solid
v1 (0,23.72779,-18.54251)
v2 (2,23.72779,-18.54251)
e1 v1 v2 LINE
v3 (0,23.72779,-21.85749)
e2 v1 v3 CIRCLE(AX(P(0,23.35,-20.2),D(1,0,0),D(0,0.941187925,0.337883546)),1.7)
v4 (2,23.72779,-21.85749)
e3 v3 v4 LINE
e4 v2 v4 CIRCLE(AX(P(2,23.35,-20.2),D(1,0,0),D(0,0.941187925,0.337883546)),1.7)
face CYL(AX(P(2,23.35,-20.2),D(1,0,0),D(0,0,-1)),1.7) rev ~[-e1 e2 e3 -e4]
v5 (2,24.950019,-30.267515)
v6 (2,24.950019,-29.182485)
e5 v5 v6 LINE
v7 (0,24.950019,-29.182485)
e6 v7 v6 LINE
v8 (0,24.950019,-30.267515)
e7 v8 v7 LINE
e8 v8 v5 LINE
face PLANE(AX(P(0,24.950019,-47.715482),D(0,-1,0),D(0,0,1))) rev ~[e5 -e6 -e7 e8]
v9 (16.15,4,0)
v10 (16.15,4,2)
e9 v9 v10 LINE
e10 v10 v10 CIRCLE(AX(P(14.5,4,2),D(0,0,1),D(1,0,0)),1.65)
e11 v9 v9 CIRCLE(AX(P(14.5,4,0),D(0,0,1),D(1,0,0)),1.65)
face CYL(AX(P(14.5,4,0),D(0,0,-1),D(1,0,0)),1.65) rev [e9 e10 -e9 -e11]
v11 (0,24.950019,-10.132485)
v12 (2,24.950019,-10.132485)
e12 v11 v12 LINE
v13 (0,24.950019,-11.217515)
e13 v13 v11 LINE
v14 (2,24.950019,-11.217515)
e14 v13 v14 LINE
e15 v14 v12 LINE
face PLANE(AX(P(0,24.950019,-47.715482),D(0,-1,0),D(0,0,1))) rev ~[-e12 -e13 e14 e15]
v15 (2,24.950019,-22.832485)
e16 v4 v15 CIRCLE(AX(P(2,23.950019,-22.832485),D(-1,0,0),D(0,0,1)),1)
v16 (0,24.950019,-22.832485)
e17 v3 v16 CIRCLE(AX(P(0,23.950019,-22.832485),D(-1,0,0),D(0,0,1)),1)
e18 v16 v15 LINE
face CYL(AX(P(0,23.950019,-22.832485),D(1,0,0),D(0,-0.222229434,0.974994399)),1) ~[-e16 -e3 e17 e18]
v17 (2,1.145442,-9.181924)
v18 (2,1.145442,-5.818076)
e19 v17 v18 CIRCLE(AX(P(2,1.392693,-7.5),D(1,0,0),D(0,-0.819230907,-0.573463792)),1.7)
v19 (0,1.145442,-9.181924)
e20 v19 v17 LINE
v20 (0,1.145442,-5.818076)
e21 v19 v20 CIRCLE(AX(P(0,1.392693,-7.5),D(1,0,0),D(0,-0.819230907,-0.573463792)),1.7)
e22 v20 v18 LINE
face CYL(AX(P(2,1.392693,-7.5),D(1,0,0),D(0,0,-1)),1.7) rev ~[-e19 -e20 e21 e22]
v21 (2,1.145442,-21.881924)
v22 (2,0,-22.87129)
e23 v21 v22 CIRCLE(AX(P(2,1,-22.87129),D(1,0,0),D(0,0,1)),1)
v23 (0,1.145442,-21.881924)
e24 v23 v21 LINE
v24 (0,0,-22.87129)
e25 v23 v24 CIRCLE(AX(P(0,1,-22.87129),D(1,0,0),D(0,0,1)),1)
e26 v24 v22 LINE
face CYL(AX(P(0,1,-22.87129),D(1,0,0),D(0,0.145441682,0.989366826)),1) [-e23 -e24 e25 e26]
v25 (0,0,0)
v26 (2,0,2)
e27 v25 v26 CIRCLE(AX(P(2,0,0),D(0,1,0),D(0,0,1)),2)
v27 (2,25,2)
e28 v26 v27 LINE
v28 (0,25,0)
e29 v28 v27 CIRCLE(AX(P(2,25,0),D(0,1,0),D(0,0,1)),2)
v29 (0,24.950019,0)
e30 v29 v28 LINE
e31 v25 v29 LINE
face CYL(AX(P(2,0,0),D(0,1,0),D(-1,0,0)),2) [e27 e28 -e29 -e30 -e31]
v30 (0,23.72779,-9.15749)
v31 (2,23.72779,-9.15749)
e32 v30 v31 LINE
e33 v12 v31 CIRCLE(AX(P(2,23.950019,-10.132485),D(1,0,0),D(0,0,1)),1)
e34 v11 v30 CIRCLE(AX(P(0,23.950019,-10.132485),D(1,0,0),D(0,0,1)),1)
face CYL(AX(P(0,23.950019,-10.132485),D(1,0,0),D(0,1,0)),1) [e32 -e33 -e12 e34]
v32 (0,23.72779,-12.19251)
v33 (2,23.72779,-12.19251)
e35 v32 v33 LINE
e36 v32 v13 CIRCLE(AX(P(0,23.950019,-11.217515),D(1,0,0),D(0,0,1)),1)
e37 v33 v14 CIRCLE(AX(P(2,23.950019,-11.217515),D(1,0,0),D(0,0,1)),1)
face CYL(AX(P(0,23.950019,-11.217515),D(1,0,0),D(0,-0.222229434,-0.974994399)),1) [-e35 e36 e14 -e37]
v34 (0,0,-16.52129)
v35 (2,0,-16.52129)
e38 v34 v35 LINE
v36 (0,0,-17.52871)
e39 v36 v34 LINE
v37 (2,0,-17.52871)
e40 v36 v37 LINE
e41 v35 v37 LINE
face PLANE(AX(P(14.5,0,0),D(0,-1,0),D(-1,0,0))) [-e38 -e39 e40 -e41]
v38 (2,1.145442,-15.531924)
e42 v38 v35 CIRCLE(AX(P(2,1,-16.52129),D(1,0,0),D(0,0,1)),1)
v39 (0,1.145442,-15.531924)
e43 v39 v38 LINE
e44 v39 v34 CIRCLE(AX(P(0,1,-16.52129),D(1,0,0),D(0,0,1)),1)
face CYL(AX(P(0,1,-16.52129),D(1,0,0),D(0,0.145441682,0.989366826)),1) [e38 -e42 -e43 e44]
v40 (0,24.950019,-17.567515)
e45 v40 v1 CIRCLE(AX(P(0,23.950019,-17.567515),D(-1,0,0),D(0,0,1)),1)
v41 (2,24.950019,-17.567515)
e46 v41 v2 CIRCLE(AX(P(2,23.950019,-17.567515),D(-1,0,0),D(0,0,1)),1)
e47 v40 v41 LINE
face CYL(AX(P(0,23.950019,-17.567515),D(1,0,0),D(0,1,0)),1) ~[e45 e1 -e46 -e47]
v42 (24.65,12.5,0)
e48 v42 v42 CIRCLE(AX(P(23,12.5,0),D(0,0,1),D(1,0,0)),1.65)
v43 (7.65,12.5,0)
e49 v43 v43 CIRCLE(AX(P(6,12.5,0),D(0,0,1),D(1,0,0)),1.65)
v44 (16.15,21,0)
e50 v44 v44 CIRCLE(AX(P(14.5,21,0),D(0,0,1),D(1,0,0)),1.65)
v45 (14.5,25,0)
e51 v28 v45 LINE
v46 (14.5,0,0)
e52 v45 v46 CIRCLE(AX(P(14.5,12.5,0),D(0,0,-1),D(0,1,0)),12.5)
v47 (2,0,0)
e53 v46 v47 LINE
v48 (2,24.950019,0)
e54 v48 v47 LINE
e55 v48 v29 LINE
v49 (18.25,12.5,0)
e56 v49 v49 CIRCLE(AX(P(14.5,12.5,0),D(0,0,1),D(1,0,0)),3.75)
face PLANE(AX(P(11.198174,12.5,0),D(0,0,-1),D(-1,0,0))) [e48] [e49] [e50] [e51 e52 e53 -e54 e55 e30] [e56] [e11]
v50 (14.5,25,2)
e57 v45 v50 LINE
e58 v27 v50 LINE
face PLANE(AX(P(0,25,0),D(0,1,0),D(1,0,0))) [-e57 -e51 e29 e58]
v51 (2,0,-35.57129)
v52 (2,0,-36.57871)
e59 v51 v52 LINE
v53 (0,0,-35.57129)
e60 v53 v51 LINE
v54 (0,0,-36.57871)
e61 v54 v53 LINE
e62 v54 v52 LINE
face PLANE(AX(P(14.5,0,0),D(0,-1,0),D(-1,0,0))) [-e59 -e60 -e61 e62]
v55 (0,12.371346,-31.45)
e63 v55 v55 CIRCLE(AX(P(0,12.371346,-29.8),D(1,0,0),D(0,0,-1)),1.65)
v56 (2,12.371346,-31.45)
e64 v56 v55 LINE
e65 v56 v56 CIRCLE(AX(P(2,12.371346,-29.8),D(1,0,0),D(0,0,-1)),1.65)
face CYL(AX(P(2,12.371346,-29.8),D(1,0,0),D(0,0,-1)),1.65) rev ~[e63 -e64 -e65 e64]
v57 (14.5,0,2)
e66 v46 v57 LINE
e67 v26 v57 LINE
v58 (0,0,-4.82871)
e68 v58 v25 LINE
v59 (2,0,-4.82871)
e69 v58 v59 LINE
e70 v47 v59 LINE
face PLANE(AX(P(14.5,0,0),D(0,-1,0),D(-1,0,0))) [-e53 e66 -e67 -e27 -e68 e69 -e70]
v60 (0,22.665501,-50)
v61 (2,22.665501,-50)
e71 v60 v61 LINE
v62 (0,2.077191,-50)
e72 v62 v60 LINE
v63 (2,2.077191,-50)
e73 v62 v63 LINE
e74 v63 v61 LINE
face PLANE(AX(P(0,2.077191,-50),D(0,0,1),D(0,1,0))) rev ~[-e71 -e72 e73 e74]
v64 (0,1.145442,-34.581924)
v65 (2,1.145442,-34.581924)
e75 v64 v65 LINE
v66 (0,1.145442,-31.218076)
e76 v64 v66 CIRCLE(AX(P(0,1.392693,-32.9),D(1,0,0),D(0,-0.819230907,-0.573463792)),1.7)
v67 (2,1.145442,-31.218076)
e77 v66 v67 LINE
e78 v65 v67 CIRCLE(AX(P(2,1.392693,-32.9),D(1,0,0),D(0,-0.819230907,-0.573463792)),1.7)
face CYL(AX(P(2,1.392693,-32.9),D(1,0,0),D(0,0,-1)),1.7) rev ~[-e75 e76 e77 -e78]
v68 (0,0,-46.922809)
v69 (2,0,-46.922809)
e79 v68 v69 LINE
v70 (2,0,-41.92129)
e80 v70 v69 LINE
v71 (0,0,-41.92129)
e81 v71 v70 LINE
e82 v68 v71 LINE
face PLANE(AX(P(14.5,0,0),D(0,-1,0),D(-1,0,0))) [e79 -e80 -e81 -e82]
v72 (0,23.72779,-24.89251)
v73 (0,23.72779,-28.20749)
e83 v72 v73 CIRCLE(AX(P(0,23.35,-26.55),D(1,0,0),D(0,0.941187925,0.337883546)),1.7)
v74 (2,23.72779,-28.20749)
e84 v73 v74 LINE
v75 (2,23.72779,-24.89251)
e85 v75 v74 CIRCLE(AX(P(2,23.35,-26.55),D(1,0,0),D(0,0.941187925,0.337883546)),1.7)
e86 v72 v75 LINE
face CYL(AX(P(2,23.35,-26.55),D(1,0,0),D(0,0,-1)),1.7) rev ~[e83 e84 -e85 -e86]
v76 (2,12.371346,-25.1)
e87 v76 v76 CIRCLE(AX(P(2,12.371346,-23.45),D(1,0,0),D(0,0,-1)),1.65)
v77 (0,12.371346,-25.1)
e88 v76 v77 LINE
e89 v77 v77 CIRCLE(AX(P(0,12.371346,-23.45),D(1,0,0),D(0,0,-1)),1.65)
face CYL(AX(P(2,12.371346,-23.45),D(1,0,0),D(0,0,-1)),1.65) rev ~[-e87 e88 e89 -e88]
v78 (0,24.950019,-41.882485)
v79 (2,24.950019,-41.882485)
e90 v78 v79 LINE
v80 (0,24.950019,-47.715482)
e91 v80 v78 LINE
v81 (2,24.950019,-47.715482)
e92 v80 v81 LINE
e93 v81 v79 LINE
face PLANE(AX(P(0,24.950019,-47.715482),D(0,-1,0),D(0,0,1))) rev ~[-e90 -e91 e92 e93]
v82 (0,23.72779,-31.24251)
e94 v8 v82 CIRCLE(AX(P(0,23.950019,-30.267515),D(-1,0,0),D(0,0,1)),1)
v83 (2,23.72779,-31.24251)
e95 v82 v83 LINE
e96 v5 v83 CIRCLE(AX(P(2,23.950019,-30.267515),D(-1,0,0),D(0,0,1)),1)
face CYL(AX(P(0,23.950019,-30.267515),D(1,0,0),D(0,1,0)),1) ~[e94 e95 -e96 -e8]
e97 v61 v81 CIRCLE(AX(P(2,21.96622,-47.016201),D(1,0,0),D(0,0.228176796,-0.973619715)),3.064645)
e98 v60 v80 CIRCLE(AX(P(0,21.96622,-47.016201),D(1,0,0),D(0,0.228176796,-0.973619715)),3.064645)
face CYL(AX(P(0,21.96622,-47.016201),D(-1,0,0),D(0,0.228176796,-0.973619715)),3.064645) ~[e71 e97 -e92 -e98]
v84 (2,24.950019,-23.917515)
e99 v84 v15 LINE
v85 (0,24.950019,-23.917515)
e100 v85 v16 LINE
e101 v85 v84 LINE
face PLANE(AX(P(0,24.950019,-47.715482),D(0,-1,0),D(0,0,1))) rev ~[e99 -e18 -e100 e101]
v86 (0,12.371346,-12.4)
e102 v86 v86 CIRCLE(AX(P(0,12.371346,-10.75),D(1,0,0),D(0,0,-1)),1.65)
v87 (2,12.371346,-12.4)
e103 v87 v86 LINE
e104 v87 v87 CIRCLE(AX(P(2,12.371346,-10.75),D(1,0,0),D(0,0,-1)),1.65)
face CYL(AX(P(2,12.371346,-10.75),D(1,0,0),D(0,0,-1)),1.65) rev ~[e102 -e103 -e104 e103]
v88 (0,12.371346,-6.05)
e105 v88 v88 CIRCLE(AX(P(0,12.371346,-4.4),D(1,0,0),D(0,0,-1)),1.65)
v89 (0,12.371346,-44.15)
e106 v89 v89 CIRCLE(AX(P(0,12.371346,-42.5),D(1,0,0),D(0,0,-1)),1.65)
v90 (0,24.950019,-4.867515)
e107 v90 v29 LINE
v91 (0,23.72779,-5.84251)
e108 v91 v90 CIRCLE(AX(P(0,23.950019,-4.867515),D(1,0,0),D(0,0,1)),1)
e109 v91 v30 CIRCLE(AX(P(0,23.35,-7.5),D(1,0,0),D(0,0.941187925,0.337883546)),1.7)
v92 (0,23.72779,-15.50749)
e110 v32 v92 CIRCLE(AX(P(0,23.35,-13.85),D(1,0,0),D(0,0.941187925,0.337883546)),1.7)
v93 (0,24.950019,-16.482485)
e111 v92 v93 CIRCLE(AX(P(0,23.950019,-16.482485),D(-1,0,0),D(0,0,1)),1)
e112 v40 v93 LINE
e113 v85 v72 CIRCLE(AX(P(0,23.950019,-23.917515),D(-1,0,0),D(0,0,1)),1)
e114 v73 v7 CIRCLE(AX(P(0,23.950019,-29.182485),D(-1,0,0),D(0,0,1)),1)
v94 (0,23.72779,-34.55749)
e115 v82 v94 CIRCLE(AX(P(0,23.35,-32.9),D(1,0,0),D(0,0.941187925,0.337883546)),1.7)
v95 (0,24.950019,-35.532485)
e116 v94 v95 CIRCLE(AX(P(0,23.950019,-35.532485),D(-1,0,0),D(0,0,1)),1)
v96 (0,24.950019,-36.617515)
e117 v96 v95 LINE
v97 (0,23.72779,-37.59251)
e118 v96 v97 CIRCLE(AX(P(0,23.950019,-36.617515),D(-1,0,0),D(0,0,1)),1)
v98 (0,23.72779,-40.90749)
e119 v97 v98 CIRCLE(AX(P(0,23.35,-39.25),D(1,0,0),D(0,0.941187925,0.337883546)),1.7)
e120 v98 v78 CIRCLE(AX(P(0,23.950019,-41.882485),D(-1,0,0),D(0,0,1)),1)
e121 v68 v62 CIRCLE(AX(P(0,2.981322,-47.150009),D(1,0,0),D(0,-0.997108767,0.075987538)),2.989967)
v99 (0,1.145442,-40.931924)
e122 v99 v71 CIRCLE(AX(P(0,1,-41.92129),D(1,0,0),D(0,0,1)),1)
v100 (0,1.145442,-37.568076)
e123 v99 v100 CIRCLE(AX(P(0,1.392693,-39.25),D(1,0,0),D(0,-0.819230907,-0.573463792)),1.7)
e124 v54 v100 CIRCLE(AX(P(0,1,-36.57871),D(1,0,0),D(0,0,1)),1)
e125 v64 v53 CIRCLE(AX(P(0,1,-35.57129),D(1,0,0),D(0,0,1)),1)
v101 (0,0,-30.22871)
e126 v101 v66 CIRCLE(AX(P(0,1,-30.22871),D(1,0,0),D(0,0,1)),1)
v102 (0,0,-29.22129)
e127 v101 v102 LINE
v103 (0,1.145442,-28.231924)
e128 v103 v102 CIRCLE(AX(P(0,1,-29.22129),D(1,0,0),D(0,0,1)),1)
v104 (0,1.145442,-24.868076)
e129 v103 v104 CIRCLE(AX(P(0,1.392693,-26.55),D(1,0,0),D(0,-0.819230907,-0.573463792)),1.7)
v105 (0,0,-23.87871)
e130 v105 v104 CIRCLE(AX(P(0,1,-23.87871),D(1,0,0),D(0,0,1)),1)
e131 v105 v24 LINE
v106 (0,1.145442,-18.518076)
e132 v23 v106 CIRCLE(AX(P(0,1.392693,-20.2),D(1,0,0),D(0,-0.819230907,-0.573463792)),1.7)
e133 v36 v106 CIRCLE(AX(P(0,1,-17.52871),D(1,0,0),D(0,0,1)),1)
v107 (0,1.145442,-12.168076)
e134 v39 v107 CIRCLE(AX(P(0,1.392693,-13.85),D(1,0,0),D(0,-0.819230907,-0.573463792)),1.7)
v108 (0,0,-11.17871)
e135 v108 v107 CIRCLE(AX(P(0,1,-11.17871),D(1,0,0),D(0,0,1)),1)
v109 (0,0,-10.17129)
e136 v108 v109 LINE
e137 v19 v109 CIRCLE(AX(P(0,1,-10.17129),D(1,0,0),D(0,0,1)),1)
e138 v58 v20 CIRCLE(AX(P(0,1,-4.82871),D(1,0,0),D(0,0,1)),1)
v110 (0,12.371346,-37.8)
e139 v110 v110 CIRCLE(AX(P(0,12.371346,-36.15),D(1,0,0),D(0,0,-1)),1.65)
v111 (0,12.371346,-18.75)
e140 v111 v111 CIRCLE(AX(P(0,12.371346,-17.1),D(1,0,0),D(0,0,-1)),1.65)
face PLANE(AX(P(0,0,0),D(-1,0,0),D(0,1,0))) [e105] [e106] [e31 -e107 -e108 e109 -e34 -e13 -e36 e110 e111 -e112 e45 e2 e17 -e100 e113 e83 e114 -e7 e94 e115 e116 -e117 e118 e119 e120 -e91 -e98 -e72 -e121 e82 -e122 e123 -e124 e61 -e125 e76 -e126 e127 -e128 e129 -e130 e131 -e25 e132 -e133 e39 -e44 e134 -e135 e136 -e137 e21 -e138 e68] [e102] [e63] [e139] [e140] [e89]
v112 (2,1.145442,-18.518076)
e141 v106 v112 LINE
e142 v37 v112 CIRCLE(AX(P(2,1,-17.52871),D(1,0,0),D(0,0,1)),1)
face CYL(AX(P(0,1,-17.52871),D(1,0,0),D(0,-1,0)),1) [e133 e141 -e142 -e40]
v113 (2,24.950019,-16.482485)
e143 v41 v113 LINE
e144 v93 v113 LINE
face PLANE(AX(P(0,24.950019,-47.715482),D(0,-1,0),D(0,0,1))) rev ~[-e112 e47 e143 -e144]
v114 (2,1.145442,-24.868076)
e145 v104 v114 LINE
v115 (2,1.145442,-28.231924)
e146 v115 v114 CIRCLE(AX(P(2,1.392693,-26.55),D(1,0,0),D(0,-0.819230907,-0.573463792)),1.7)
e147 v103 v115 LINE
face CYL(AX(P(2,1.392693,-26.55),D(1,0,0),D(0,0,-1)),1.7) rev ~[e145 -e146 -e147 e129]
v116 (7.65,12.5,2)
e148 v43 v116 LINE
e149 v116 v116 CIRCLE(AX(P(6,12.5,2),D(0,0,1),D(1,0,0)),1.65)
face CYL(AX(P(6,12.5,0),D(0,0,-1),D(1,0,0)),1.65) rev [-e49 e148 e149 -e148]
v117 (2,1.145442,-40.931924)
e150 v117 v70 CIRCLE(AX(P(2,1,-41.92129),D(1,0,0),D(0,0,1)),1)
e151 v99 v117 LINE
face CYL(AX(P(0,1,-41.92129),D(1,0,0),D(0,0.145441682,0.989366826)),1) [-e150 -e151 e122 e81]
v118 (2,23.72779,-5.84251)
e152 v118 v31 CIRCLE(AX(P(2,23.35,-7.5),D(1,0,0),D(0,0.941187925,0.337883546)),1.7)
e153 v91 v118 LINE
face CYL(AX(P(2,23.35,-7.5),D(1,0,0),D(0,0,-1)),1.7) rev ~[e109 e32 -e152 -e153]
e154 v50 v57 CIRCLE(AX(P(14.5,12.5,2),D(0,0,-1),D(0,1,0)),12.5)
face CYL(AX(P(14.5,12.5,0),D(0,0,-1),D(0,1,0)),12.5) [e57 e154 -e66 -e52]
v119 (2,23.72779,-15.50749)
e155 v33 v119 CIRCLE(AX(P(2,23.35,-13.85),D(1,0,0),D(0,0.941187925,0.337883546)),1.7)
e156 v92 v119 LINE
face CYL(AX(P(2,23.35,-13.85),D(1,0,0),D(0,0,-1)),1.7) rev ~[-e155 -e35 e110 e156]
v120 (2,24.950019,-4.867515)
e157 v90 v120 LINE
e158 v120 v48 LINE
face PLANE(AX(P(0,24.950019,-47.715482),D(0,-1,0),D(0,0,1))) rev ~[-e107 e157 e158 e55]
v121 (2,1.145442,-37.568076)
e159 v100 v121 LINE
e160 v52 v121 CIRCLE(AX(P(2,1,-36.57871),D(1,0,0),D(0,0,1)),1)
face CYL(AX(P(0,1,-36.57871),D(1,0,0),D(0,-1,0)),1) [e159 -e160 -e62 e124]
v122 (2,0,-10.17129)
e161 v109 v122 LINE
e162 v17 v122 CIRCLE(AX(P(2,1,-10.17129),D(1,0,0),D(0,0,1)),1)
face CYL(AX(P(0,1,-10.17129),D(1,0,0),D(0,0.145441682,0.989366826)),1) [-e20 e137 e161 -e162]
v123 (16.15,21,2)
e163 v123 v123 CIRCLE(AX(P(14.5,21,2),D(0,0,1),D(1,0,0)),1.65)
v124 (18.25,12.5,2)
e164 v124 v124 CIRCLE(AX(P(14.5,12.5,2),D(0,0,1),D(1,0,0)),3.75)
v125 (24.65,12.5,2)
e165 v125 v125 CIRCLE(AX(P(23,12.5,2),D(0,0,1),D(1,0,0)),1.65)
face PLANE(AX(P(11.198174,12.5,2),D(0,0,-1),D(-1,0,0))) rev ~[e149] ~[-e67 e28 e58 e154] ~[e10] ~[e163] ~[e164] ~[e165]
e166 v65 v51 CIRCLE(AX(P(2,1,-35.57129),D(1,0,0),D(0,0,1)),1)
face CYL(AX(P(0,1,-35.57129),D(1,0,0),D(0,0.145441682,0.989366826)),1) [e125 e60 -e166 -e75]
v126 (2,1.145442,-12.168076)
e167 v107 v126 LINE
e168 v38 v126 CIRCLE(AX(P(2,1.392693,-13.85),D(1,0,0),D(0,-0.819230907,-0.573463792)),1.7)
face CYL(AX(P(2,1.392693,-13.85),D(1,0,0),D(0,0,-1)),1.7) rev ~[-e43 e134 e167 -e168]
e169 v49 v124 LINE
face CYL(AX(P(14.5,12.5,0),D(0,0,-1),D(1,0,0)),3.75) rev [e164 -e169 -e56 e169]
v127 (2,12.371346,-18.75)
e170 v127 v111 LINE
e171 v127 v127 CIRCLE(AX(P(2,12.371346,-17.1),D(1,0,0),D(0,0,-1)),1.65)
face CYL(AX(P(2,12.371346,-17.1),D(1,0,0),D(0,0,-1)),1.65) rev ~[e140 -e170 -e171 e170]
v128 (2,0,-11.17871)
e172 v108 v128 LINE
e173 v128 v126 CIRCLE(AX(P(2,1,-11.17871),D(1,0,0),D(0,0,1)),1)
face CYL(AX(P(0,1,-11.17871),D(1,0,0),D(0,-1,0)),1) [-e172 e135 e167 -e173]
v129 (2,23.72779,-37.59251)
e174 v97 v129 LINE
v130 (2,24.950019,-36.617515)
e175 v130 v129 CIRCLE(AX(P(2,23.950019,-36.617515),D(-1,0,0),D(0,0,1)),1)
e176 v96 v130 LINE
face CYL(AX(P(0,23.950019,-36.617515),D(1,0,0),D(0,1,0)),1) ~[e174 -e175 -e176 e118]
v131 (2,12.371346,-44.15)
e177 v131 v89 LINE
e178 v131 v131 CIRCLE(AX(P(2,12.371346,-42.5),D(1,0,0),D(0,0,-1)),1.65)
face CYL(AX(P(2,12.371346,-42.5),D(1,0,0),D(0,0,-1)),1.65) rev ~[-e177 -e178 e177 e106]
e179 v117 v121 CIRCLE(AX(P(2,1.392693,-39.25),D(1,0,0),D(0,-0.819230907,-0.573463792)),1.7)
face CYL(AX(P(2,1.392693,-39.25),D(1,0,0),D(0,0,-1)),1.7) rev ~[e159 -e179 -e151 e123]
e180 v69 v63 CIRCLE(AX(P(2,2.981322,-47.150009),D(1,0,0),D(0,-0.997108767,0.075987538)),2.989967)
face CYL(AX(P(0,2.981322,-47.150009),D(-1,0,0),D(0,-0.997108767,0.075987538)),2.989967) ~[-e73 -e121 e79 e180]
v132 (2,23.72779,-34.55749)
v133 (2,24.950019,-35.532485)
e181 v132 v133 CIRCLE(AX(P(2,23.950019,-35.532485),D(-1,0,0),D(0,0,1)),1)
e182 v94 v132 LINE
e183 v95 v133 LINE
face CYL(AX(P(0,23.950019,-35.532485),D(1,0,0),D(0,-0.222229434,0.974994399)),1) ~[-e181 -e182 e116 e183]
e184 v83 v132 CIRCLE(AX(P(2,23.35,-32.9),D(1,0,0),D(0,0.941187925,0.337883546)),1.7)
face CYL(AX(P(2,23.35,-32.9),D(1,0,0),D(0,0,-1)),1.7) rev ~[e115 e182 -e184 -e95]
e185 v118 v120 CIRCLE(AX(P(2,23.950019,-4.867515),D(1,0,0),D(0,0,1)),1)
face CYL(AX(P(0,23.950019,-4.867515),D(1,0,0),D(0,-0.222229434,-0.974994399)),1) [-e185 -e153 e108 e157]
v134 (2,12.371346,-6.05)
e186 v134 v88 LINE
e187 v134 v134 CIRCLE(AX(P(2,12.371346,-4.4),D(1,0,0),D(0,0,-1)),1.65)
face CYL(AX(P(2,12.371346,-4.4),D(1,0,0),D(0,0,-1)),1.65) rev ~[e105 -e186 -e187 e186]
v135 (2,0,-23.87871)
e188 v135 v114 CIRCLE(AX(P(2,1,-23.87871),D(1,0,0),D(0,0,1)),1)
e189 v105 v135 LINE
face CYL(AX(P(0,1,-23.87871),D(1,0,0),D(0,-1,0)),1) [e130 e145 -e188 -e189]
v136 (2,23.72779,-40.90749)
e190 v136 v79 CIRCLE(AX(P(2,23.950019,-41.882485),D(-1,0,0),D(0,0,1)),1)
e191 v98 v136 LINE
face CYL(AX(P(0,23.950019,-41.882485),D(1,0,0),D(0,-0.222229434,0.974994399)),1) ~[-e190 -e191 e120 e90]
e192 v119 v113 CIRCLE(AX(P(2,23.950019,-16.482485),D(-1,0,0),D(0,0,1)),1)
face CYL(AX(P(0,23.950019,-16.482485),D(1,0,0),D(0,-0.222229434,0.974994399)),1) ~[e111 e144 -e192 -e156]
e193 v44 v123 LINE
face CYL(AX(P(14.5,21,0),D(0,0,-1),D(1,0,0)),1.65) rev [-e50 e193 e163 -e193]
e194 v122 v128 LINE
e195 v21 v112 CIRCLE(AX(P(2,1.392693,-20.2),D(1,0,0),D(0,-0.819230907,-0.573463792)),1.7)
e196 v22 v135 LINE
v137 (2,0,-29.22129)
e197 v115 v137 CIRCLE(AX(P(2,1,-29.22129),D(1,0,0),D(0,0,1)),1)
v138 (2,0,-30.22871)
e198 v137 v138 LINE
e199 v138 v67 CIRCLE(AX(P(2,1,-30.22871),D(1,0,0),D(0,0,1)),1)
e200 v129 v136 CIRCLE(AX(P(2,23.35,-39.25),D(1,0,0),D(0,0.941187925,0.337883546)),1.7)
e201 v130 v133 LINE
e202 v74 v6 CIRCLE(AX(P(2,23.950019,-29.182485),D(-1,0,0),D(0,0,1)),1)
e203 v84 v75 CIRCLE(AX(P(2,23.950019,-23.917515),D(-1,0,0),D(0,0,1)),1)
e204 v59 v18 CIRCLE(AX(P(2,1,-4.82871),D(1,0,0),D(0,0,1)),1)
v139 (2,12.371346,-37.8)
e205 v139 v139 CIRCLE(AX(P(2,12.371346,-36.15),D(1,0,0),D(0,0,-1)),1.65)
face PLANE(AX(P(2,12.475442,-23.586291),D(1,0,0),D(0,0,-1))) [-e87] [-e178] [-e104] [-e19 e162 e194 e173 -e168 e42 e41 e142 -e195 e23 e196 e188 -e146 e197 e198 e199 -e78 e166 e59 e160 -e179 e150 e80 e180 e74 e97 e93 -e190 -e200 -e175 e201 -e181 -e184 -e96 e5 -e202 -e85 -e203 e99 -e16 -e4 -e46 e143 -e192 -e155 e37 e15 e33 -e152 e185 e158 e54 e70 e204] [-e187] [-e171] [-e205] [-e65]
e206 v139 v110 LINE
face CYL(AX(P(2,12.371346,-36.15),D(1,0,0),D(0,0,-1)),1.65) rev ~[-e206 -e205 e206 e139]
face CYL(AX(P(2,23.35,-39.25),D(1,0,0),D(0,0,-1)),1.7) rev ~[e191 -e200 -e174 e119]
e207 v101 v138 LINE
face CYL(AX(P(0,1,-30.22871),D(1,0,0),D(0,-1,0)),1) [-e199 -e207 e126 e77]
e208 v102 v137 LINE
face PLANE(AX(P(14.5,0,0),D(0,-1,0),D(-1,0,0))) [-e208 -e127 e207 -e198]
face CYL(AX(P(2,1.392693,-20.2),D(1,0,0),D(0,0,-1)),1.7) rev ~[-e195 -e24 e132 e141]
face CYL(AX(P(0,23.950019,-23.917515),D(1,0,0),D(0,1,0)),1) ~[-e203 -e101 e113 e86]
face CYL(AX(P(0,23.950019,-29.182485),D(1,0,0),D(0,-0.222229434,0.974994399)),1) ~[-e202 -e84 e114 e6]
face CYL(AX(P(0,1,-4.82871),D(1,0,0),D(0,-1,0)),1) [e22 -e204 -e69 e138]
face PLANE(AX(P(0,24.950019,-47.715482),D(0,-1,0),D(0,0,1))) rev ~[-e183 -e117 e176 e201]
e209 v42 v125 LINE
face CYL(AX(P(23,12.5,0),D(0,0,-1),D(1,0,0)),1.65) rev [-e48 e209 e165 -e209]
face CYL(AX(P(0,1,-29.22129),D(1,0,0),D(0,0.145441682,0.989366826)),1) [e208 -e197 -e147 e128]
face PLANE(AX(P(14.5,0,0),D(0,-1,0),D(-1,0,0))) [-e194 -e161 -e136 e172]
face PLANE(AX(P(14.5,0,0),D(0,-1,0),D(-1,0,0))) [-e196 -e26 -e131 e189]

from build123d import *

# Parameters (mm, degrees)
CROQUIS1_R              = 3.75
CROQUIS1_R_2            = 1.65
SALIENTE_EXTRUIR1_DEPTH = 2
SALIENTE_EXTRUIR2_DEPTH = 2
CROQUIS5_R              = 1.65
CROQUIS5_R_2            = 1.7
CORTAR_EXTRUIR2_DEPTH   = 10
REDONDEO3_R             = 1
REDONDEO4_R             = 1
REDONDEO5_R             = 1
REDONDEO6_R             = 1
REDONDEO7_R             = 1
REDONDEO8_R             = 1
REDONDEO12_R            = 2


with BuildPart() as part:
    # Croquis1 → Saliente-Extruir1 (new body)
    with BuildSketch(Plane.XY):
        with BuildLine():
            Line((0, 0), (0, 25))
            Line((0, 25), (14.5, 25))
            ThreePointArc((14.5, 25), (27, 12.5), (14.5, 0))
            Line((14.5, 0), (0, 0))
        make_face()
        with Locations((14.5, 12.5)):
            Circle(CROQUIS1_R, mode=Mode.SUBTRACT)
        with Locations((14.5, 21)):
            Circle(CROQUIS1_R_2, mode=Mode.SUBTRACT)
        with Locations((23, 12.5)):
            Circle(CROQUIS1_R_2, mode=Mode.SUBTRACT)
        with Locations((14.5, 4)):
            Circle(CROQUIS1_R_2, mode=Mode.SUBTRACT)
        with Locations((6, 12.5)):
            Circle(CROQUIS1_R_2, mode=Mode.SUBTRACT)
    extrude(amount=SALIENTE_EXTRUIR1_DEPTH)

    # Croquis4 → Saliente-Extruir2 (add)
    with BuildSketch(Plane.ZY):
        with BuildLine():
            Line((2, 0), (-46.922808665, 0))
            ThreePointArc((-46.922808665, 0), (-48.82286243, 0.503124666), (-50, 2.077191335))
            Line((-50, 2.077191335), (-50, 22.665501207))
            ThreePointArc((-50, 22.665501207), (-49.183232344, 24.133251816), (-47.715481735, 24.950019472))
            Line((-47.715481735, 24.950019472), (2, 24.950019472))
            Line((2, 24.950019472), (2, 0))
        make_face()
    extrude(amount=-SALIENTE_EXTRUIR2_DEPTH)

    # Croquis5 → Cortar-Extruir2 (cut)
    with BuildSketch(Plane(origin=(2, 0, 0), x_dir=(0, 0, -1), z_dir=(1, 0, 0))):
        with Locations((42.5, 12.371346271)):
            Circle(CROQUIS5_R)
        with Locations((36.15, 12.371346271)):
            Circle(CROQUIS5_R)
        with Locations((29.8, 12.371346271)):
            Circle(CROQUIS5_R)
        with Locations((23.45, 12.371346271)):
            Circle(CROQUIS5_R)
        with Locations((17.1, 12.371346271)):
            Circle(CROQUIS5_R)
        with Locations((10.75, 12.371346271)):
            Circle(CROQUIS5_R)
        with Locations((4.4, 12.371346271)):
            Circle(CROQUIS5_R)
        with Locations((7.5, 23.35)):
            Circle(CROQUIS5_R_2)
        with Locations((13.85, 23.35)):
            Circle(CROQUIS5_R_2)
        with Locations((20.2, 23.35)):
            Circle(CROQUIS5_R_2)
        with Locations((26.55, 23.35)):
            Circle(CROQUIS5_R_2)
        with Locations((32.9, 23.35)):
            Circle(CROQUIS5_R_2)
        with Locations((39.25, 23.35)):
            Circle(CROQUIS5_R_2)
        with Locations((39.25, 1.392692542)):
            Circle(CROQUIS5_R_2)
        with Locations((32.9, 1.392692542)):
            Circle(CROQUIS5_R_2)
        with Locations((26.55, 1.392692542)):
            Circle(CROQUIS5_R_2)
        with Locations((20.2, 1.392692542)):
            Circle(CROQUIS5_R_2)
        with Locations((13.85, 1.392692542)):
            Circle(CROQUIS5_R_2)
        with Locations((7.5, 1.392692542)):
            Circle(CROQUIS5_R_2)
    extrude(amount=-CORTAR_EXTRUIR2_DEPTH, mode=Mode.SUBTRACT)

    # Redondeo3
    redondeo3_edges = [part.edges().sort_by_distance(p)[0] for p in [
        (1, 24.950019472, -8.074402028),
        (1, 24.950019472, -13.275597972),
    ]]
    fillet(redondeo3_edges, radius=REDONDEO3_R)

    # Redondeo4
    redondeo4_edges = [part.edges().sort_by_distance(p)[0] for p in [
        (1, 24.950019472, -19.625597972),
        (1, 24.950019472, -20.774402028),
        (1, 24.950019472, -25.975597972),
        (1, 24.950019472, -14.424402028),
    ]]
    fillet(redondeo4_edges, radius=REDONDEO4_R)

    # Redondeo5
    redondeo5_edges = [part.edges().sort_by_distance(p)[0] for p in [
        (1, 24.950019472, -32.325597972),
        (1, 24.950019472, -33.474402028),
        (1, 24.950019472, -38.675597972),
        (1, 24.950019472, -39.824402028),
        (1, 24.950019472, -27.124402028),
    ]]
    fillet(redondeo5_edges, radius=REDONDEO5_R)

    # Redondeo6
    redondeo6_edges = [part.edges().sort_by_distance(p)[0] for p in [
        (1, 24.950019472, -6.925597972),
    ]]
    fillet(redondeo6_edges, radius=REDONDEO6_R)

    # Redondeo7
    redondeo7_edges = [part.edges().sort_by_distance(p)[0] for p in [
        (1, 0, -31.925111553),
        (1, 0, -25.575111553),
        (1, 0, -27.524888447),
        (1, 0, -19.225111553),
        (1, 0, -21.174888447),
        (1, 0, -12.875111553),
        (1, 0, -14.824888447),
        (1, 0, -6.525111553),
        (1, 0, -8.474888447),
    ]]
    fillet(redondeo7_edges, radius=REDONDEO7_R)

    # Redondeo8
    redondeo8_edges = [part.edges().sort_by_distance(p)[0] for p in [
        (1, 0, -38.275111553),
        (1, 0, -40.224888447),
        (1, 0, -33.874888447),
    ]]
    fillet(redondeo8_edges, radius=REDONDEO8_R)

    # Redondeo12
    redondeo12_edges = [part.edges().sort_by_distance(p)[0] for p in [
        (0, 12.5, 2),
    ]]
    fillet(redondeo12_edges, radius=REDONDEO12_R)


solid = part.part
